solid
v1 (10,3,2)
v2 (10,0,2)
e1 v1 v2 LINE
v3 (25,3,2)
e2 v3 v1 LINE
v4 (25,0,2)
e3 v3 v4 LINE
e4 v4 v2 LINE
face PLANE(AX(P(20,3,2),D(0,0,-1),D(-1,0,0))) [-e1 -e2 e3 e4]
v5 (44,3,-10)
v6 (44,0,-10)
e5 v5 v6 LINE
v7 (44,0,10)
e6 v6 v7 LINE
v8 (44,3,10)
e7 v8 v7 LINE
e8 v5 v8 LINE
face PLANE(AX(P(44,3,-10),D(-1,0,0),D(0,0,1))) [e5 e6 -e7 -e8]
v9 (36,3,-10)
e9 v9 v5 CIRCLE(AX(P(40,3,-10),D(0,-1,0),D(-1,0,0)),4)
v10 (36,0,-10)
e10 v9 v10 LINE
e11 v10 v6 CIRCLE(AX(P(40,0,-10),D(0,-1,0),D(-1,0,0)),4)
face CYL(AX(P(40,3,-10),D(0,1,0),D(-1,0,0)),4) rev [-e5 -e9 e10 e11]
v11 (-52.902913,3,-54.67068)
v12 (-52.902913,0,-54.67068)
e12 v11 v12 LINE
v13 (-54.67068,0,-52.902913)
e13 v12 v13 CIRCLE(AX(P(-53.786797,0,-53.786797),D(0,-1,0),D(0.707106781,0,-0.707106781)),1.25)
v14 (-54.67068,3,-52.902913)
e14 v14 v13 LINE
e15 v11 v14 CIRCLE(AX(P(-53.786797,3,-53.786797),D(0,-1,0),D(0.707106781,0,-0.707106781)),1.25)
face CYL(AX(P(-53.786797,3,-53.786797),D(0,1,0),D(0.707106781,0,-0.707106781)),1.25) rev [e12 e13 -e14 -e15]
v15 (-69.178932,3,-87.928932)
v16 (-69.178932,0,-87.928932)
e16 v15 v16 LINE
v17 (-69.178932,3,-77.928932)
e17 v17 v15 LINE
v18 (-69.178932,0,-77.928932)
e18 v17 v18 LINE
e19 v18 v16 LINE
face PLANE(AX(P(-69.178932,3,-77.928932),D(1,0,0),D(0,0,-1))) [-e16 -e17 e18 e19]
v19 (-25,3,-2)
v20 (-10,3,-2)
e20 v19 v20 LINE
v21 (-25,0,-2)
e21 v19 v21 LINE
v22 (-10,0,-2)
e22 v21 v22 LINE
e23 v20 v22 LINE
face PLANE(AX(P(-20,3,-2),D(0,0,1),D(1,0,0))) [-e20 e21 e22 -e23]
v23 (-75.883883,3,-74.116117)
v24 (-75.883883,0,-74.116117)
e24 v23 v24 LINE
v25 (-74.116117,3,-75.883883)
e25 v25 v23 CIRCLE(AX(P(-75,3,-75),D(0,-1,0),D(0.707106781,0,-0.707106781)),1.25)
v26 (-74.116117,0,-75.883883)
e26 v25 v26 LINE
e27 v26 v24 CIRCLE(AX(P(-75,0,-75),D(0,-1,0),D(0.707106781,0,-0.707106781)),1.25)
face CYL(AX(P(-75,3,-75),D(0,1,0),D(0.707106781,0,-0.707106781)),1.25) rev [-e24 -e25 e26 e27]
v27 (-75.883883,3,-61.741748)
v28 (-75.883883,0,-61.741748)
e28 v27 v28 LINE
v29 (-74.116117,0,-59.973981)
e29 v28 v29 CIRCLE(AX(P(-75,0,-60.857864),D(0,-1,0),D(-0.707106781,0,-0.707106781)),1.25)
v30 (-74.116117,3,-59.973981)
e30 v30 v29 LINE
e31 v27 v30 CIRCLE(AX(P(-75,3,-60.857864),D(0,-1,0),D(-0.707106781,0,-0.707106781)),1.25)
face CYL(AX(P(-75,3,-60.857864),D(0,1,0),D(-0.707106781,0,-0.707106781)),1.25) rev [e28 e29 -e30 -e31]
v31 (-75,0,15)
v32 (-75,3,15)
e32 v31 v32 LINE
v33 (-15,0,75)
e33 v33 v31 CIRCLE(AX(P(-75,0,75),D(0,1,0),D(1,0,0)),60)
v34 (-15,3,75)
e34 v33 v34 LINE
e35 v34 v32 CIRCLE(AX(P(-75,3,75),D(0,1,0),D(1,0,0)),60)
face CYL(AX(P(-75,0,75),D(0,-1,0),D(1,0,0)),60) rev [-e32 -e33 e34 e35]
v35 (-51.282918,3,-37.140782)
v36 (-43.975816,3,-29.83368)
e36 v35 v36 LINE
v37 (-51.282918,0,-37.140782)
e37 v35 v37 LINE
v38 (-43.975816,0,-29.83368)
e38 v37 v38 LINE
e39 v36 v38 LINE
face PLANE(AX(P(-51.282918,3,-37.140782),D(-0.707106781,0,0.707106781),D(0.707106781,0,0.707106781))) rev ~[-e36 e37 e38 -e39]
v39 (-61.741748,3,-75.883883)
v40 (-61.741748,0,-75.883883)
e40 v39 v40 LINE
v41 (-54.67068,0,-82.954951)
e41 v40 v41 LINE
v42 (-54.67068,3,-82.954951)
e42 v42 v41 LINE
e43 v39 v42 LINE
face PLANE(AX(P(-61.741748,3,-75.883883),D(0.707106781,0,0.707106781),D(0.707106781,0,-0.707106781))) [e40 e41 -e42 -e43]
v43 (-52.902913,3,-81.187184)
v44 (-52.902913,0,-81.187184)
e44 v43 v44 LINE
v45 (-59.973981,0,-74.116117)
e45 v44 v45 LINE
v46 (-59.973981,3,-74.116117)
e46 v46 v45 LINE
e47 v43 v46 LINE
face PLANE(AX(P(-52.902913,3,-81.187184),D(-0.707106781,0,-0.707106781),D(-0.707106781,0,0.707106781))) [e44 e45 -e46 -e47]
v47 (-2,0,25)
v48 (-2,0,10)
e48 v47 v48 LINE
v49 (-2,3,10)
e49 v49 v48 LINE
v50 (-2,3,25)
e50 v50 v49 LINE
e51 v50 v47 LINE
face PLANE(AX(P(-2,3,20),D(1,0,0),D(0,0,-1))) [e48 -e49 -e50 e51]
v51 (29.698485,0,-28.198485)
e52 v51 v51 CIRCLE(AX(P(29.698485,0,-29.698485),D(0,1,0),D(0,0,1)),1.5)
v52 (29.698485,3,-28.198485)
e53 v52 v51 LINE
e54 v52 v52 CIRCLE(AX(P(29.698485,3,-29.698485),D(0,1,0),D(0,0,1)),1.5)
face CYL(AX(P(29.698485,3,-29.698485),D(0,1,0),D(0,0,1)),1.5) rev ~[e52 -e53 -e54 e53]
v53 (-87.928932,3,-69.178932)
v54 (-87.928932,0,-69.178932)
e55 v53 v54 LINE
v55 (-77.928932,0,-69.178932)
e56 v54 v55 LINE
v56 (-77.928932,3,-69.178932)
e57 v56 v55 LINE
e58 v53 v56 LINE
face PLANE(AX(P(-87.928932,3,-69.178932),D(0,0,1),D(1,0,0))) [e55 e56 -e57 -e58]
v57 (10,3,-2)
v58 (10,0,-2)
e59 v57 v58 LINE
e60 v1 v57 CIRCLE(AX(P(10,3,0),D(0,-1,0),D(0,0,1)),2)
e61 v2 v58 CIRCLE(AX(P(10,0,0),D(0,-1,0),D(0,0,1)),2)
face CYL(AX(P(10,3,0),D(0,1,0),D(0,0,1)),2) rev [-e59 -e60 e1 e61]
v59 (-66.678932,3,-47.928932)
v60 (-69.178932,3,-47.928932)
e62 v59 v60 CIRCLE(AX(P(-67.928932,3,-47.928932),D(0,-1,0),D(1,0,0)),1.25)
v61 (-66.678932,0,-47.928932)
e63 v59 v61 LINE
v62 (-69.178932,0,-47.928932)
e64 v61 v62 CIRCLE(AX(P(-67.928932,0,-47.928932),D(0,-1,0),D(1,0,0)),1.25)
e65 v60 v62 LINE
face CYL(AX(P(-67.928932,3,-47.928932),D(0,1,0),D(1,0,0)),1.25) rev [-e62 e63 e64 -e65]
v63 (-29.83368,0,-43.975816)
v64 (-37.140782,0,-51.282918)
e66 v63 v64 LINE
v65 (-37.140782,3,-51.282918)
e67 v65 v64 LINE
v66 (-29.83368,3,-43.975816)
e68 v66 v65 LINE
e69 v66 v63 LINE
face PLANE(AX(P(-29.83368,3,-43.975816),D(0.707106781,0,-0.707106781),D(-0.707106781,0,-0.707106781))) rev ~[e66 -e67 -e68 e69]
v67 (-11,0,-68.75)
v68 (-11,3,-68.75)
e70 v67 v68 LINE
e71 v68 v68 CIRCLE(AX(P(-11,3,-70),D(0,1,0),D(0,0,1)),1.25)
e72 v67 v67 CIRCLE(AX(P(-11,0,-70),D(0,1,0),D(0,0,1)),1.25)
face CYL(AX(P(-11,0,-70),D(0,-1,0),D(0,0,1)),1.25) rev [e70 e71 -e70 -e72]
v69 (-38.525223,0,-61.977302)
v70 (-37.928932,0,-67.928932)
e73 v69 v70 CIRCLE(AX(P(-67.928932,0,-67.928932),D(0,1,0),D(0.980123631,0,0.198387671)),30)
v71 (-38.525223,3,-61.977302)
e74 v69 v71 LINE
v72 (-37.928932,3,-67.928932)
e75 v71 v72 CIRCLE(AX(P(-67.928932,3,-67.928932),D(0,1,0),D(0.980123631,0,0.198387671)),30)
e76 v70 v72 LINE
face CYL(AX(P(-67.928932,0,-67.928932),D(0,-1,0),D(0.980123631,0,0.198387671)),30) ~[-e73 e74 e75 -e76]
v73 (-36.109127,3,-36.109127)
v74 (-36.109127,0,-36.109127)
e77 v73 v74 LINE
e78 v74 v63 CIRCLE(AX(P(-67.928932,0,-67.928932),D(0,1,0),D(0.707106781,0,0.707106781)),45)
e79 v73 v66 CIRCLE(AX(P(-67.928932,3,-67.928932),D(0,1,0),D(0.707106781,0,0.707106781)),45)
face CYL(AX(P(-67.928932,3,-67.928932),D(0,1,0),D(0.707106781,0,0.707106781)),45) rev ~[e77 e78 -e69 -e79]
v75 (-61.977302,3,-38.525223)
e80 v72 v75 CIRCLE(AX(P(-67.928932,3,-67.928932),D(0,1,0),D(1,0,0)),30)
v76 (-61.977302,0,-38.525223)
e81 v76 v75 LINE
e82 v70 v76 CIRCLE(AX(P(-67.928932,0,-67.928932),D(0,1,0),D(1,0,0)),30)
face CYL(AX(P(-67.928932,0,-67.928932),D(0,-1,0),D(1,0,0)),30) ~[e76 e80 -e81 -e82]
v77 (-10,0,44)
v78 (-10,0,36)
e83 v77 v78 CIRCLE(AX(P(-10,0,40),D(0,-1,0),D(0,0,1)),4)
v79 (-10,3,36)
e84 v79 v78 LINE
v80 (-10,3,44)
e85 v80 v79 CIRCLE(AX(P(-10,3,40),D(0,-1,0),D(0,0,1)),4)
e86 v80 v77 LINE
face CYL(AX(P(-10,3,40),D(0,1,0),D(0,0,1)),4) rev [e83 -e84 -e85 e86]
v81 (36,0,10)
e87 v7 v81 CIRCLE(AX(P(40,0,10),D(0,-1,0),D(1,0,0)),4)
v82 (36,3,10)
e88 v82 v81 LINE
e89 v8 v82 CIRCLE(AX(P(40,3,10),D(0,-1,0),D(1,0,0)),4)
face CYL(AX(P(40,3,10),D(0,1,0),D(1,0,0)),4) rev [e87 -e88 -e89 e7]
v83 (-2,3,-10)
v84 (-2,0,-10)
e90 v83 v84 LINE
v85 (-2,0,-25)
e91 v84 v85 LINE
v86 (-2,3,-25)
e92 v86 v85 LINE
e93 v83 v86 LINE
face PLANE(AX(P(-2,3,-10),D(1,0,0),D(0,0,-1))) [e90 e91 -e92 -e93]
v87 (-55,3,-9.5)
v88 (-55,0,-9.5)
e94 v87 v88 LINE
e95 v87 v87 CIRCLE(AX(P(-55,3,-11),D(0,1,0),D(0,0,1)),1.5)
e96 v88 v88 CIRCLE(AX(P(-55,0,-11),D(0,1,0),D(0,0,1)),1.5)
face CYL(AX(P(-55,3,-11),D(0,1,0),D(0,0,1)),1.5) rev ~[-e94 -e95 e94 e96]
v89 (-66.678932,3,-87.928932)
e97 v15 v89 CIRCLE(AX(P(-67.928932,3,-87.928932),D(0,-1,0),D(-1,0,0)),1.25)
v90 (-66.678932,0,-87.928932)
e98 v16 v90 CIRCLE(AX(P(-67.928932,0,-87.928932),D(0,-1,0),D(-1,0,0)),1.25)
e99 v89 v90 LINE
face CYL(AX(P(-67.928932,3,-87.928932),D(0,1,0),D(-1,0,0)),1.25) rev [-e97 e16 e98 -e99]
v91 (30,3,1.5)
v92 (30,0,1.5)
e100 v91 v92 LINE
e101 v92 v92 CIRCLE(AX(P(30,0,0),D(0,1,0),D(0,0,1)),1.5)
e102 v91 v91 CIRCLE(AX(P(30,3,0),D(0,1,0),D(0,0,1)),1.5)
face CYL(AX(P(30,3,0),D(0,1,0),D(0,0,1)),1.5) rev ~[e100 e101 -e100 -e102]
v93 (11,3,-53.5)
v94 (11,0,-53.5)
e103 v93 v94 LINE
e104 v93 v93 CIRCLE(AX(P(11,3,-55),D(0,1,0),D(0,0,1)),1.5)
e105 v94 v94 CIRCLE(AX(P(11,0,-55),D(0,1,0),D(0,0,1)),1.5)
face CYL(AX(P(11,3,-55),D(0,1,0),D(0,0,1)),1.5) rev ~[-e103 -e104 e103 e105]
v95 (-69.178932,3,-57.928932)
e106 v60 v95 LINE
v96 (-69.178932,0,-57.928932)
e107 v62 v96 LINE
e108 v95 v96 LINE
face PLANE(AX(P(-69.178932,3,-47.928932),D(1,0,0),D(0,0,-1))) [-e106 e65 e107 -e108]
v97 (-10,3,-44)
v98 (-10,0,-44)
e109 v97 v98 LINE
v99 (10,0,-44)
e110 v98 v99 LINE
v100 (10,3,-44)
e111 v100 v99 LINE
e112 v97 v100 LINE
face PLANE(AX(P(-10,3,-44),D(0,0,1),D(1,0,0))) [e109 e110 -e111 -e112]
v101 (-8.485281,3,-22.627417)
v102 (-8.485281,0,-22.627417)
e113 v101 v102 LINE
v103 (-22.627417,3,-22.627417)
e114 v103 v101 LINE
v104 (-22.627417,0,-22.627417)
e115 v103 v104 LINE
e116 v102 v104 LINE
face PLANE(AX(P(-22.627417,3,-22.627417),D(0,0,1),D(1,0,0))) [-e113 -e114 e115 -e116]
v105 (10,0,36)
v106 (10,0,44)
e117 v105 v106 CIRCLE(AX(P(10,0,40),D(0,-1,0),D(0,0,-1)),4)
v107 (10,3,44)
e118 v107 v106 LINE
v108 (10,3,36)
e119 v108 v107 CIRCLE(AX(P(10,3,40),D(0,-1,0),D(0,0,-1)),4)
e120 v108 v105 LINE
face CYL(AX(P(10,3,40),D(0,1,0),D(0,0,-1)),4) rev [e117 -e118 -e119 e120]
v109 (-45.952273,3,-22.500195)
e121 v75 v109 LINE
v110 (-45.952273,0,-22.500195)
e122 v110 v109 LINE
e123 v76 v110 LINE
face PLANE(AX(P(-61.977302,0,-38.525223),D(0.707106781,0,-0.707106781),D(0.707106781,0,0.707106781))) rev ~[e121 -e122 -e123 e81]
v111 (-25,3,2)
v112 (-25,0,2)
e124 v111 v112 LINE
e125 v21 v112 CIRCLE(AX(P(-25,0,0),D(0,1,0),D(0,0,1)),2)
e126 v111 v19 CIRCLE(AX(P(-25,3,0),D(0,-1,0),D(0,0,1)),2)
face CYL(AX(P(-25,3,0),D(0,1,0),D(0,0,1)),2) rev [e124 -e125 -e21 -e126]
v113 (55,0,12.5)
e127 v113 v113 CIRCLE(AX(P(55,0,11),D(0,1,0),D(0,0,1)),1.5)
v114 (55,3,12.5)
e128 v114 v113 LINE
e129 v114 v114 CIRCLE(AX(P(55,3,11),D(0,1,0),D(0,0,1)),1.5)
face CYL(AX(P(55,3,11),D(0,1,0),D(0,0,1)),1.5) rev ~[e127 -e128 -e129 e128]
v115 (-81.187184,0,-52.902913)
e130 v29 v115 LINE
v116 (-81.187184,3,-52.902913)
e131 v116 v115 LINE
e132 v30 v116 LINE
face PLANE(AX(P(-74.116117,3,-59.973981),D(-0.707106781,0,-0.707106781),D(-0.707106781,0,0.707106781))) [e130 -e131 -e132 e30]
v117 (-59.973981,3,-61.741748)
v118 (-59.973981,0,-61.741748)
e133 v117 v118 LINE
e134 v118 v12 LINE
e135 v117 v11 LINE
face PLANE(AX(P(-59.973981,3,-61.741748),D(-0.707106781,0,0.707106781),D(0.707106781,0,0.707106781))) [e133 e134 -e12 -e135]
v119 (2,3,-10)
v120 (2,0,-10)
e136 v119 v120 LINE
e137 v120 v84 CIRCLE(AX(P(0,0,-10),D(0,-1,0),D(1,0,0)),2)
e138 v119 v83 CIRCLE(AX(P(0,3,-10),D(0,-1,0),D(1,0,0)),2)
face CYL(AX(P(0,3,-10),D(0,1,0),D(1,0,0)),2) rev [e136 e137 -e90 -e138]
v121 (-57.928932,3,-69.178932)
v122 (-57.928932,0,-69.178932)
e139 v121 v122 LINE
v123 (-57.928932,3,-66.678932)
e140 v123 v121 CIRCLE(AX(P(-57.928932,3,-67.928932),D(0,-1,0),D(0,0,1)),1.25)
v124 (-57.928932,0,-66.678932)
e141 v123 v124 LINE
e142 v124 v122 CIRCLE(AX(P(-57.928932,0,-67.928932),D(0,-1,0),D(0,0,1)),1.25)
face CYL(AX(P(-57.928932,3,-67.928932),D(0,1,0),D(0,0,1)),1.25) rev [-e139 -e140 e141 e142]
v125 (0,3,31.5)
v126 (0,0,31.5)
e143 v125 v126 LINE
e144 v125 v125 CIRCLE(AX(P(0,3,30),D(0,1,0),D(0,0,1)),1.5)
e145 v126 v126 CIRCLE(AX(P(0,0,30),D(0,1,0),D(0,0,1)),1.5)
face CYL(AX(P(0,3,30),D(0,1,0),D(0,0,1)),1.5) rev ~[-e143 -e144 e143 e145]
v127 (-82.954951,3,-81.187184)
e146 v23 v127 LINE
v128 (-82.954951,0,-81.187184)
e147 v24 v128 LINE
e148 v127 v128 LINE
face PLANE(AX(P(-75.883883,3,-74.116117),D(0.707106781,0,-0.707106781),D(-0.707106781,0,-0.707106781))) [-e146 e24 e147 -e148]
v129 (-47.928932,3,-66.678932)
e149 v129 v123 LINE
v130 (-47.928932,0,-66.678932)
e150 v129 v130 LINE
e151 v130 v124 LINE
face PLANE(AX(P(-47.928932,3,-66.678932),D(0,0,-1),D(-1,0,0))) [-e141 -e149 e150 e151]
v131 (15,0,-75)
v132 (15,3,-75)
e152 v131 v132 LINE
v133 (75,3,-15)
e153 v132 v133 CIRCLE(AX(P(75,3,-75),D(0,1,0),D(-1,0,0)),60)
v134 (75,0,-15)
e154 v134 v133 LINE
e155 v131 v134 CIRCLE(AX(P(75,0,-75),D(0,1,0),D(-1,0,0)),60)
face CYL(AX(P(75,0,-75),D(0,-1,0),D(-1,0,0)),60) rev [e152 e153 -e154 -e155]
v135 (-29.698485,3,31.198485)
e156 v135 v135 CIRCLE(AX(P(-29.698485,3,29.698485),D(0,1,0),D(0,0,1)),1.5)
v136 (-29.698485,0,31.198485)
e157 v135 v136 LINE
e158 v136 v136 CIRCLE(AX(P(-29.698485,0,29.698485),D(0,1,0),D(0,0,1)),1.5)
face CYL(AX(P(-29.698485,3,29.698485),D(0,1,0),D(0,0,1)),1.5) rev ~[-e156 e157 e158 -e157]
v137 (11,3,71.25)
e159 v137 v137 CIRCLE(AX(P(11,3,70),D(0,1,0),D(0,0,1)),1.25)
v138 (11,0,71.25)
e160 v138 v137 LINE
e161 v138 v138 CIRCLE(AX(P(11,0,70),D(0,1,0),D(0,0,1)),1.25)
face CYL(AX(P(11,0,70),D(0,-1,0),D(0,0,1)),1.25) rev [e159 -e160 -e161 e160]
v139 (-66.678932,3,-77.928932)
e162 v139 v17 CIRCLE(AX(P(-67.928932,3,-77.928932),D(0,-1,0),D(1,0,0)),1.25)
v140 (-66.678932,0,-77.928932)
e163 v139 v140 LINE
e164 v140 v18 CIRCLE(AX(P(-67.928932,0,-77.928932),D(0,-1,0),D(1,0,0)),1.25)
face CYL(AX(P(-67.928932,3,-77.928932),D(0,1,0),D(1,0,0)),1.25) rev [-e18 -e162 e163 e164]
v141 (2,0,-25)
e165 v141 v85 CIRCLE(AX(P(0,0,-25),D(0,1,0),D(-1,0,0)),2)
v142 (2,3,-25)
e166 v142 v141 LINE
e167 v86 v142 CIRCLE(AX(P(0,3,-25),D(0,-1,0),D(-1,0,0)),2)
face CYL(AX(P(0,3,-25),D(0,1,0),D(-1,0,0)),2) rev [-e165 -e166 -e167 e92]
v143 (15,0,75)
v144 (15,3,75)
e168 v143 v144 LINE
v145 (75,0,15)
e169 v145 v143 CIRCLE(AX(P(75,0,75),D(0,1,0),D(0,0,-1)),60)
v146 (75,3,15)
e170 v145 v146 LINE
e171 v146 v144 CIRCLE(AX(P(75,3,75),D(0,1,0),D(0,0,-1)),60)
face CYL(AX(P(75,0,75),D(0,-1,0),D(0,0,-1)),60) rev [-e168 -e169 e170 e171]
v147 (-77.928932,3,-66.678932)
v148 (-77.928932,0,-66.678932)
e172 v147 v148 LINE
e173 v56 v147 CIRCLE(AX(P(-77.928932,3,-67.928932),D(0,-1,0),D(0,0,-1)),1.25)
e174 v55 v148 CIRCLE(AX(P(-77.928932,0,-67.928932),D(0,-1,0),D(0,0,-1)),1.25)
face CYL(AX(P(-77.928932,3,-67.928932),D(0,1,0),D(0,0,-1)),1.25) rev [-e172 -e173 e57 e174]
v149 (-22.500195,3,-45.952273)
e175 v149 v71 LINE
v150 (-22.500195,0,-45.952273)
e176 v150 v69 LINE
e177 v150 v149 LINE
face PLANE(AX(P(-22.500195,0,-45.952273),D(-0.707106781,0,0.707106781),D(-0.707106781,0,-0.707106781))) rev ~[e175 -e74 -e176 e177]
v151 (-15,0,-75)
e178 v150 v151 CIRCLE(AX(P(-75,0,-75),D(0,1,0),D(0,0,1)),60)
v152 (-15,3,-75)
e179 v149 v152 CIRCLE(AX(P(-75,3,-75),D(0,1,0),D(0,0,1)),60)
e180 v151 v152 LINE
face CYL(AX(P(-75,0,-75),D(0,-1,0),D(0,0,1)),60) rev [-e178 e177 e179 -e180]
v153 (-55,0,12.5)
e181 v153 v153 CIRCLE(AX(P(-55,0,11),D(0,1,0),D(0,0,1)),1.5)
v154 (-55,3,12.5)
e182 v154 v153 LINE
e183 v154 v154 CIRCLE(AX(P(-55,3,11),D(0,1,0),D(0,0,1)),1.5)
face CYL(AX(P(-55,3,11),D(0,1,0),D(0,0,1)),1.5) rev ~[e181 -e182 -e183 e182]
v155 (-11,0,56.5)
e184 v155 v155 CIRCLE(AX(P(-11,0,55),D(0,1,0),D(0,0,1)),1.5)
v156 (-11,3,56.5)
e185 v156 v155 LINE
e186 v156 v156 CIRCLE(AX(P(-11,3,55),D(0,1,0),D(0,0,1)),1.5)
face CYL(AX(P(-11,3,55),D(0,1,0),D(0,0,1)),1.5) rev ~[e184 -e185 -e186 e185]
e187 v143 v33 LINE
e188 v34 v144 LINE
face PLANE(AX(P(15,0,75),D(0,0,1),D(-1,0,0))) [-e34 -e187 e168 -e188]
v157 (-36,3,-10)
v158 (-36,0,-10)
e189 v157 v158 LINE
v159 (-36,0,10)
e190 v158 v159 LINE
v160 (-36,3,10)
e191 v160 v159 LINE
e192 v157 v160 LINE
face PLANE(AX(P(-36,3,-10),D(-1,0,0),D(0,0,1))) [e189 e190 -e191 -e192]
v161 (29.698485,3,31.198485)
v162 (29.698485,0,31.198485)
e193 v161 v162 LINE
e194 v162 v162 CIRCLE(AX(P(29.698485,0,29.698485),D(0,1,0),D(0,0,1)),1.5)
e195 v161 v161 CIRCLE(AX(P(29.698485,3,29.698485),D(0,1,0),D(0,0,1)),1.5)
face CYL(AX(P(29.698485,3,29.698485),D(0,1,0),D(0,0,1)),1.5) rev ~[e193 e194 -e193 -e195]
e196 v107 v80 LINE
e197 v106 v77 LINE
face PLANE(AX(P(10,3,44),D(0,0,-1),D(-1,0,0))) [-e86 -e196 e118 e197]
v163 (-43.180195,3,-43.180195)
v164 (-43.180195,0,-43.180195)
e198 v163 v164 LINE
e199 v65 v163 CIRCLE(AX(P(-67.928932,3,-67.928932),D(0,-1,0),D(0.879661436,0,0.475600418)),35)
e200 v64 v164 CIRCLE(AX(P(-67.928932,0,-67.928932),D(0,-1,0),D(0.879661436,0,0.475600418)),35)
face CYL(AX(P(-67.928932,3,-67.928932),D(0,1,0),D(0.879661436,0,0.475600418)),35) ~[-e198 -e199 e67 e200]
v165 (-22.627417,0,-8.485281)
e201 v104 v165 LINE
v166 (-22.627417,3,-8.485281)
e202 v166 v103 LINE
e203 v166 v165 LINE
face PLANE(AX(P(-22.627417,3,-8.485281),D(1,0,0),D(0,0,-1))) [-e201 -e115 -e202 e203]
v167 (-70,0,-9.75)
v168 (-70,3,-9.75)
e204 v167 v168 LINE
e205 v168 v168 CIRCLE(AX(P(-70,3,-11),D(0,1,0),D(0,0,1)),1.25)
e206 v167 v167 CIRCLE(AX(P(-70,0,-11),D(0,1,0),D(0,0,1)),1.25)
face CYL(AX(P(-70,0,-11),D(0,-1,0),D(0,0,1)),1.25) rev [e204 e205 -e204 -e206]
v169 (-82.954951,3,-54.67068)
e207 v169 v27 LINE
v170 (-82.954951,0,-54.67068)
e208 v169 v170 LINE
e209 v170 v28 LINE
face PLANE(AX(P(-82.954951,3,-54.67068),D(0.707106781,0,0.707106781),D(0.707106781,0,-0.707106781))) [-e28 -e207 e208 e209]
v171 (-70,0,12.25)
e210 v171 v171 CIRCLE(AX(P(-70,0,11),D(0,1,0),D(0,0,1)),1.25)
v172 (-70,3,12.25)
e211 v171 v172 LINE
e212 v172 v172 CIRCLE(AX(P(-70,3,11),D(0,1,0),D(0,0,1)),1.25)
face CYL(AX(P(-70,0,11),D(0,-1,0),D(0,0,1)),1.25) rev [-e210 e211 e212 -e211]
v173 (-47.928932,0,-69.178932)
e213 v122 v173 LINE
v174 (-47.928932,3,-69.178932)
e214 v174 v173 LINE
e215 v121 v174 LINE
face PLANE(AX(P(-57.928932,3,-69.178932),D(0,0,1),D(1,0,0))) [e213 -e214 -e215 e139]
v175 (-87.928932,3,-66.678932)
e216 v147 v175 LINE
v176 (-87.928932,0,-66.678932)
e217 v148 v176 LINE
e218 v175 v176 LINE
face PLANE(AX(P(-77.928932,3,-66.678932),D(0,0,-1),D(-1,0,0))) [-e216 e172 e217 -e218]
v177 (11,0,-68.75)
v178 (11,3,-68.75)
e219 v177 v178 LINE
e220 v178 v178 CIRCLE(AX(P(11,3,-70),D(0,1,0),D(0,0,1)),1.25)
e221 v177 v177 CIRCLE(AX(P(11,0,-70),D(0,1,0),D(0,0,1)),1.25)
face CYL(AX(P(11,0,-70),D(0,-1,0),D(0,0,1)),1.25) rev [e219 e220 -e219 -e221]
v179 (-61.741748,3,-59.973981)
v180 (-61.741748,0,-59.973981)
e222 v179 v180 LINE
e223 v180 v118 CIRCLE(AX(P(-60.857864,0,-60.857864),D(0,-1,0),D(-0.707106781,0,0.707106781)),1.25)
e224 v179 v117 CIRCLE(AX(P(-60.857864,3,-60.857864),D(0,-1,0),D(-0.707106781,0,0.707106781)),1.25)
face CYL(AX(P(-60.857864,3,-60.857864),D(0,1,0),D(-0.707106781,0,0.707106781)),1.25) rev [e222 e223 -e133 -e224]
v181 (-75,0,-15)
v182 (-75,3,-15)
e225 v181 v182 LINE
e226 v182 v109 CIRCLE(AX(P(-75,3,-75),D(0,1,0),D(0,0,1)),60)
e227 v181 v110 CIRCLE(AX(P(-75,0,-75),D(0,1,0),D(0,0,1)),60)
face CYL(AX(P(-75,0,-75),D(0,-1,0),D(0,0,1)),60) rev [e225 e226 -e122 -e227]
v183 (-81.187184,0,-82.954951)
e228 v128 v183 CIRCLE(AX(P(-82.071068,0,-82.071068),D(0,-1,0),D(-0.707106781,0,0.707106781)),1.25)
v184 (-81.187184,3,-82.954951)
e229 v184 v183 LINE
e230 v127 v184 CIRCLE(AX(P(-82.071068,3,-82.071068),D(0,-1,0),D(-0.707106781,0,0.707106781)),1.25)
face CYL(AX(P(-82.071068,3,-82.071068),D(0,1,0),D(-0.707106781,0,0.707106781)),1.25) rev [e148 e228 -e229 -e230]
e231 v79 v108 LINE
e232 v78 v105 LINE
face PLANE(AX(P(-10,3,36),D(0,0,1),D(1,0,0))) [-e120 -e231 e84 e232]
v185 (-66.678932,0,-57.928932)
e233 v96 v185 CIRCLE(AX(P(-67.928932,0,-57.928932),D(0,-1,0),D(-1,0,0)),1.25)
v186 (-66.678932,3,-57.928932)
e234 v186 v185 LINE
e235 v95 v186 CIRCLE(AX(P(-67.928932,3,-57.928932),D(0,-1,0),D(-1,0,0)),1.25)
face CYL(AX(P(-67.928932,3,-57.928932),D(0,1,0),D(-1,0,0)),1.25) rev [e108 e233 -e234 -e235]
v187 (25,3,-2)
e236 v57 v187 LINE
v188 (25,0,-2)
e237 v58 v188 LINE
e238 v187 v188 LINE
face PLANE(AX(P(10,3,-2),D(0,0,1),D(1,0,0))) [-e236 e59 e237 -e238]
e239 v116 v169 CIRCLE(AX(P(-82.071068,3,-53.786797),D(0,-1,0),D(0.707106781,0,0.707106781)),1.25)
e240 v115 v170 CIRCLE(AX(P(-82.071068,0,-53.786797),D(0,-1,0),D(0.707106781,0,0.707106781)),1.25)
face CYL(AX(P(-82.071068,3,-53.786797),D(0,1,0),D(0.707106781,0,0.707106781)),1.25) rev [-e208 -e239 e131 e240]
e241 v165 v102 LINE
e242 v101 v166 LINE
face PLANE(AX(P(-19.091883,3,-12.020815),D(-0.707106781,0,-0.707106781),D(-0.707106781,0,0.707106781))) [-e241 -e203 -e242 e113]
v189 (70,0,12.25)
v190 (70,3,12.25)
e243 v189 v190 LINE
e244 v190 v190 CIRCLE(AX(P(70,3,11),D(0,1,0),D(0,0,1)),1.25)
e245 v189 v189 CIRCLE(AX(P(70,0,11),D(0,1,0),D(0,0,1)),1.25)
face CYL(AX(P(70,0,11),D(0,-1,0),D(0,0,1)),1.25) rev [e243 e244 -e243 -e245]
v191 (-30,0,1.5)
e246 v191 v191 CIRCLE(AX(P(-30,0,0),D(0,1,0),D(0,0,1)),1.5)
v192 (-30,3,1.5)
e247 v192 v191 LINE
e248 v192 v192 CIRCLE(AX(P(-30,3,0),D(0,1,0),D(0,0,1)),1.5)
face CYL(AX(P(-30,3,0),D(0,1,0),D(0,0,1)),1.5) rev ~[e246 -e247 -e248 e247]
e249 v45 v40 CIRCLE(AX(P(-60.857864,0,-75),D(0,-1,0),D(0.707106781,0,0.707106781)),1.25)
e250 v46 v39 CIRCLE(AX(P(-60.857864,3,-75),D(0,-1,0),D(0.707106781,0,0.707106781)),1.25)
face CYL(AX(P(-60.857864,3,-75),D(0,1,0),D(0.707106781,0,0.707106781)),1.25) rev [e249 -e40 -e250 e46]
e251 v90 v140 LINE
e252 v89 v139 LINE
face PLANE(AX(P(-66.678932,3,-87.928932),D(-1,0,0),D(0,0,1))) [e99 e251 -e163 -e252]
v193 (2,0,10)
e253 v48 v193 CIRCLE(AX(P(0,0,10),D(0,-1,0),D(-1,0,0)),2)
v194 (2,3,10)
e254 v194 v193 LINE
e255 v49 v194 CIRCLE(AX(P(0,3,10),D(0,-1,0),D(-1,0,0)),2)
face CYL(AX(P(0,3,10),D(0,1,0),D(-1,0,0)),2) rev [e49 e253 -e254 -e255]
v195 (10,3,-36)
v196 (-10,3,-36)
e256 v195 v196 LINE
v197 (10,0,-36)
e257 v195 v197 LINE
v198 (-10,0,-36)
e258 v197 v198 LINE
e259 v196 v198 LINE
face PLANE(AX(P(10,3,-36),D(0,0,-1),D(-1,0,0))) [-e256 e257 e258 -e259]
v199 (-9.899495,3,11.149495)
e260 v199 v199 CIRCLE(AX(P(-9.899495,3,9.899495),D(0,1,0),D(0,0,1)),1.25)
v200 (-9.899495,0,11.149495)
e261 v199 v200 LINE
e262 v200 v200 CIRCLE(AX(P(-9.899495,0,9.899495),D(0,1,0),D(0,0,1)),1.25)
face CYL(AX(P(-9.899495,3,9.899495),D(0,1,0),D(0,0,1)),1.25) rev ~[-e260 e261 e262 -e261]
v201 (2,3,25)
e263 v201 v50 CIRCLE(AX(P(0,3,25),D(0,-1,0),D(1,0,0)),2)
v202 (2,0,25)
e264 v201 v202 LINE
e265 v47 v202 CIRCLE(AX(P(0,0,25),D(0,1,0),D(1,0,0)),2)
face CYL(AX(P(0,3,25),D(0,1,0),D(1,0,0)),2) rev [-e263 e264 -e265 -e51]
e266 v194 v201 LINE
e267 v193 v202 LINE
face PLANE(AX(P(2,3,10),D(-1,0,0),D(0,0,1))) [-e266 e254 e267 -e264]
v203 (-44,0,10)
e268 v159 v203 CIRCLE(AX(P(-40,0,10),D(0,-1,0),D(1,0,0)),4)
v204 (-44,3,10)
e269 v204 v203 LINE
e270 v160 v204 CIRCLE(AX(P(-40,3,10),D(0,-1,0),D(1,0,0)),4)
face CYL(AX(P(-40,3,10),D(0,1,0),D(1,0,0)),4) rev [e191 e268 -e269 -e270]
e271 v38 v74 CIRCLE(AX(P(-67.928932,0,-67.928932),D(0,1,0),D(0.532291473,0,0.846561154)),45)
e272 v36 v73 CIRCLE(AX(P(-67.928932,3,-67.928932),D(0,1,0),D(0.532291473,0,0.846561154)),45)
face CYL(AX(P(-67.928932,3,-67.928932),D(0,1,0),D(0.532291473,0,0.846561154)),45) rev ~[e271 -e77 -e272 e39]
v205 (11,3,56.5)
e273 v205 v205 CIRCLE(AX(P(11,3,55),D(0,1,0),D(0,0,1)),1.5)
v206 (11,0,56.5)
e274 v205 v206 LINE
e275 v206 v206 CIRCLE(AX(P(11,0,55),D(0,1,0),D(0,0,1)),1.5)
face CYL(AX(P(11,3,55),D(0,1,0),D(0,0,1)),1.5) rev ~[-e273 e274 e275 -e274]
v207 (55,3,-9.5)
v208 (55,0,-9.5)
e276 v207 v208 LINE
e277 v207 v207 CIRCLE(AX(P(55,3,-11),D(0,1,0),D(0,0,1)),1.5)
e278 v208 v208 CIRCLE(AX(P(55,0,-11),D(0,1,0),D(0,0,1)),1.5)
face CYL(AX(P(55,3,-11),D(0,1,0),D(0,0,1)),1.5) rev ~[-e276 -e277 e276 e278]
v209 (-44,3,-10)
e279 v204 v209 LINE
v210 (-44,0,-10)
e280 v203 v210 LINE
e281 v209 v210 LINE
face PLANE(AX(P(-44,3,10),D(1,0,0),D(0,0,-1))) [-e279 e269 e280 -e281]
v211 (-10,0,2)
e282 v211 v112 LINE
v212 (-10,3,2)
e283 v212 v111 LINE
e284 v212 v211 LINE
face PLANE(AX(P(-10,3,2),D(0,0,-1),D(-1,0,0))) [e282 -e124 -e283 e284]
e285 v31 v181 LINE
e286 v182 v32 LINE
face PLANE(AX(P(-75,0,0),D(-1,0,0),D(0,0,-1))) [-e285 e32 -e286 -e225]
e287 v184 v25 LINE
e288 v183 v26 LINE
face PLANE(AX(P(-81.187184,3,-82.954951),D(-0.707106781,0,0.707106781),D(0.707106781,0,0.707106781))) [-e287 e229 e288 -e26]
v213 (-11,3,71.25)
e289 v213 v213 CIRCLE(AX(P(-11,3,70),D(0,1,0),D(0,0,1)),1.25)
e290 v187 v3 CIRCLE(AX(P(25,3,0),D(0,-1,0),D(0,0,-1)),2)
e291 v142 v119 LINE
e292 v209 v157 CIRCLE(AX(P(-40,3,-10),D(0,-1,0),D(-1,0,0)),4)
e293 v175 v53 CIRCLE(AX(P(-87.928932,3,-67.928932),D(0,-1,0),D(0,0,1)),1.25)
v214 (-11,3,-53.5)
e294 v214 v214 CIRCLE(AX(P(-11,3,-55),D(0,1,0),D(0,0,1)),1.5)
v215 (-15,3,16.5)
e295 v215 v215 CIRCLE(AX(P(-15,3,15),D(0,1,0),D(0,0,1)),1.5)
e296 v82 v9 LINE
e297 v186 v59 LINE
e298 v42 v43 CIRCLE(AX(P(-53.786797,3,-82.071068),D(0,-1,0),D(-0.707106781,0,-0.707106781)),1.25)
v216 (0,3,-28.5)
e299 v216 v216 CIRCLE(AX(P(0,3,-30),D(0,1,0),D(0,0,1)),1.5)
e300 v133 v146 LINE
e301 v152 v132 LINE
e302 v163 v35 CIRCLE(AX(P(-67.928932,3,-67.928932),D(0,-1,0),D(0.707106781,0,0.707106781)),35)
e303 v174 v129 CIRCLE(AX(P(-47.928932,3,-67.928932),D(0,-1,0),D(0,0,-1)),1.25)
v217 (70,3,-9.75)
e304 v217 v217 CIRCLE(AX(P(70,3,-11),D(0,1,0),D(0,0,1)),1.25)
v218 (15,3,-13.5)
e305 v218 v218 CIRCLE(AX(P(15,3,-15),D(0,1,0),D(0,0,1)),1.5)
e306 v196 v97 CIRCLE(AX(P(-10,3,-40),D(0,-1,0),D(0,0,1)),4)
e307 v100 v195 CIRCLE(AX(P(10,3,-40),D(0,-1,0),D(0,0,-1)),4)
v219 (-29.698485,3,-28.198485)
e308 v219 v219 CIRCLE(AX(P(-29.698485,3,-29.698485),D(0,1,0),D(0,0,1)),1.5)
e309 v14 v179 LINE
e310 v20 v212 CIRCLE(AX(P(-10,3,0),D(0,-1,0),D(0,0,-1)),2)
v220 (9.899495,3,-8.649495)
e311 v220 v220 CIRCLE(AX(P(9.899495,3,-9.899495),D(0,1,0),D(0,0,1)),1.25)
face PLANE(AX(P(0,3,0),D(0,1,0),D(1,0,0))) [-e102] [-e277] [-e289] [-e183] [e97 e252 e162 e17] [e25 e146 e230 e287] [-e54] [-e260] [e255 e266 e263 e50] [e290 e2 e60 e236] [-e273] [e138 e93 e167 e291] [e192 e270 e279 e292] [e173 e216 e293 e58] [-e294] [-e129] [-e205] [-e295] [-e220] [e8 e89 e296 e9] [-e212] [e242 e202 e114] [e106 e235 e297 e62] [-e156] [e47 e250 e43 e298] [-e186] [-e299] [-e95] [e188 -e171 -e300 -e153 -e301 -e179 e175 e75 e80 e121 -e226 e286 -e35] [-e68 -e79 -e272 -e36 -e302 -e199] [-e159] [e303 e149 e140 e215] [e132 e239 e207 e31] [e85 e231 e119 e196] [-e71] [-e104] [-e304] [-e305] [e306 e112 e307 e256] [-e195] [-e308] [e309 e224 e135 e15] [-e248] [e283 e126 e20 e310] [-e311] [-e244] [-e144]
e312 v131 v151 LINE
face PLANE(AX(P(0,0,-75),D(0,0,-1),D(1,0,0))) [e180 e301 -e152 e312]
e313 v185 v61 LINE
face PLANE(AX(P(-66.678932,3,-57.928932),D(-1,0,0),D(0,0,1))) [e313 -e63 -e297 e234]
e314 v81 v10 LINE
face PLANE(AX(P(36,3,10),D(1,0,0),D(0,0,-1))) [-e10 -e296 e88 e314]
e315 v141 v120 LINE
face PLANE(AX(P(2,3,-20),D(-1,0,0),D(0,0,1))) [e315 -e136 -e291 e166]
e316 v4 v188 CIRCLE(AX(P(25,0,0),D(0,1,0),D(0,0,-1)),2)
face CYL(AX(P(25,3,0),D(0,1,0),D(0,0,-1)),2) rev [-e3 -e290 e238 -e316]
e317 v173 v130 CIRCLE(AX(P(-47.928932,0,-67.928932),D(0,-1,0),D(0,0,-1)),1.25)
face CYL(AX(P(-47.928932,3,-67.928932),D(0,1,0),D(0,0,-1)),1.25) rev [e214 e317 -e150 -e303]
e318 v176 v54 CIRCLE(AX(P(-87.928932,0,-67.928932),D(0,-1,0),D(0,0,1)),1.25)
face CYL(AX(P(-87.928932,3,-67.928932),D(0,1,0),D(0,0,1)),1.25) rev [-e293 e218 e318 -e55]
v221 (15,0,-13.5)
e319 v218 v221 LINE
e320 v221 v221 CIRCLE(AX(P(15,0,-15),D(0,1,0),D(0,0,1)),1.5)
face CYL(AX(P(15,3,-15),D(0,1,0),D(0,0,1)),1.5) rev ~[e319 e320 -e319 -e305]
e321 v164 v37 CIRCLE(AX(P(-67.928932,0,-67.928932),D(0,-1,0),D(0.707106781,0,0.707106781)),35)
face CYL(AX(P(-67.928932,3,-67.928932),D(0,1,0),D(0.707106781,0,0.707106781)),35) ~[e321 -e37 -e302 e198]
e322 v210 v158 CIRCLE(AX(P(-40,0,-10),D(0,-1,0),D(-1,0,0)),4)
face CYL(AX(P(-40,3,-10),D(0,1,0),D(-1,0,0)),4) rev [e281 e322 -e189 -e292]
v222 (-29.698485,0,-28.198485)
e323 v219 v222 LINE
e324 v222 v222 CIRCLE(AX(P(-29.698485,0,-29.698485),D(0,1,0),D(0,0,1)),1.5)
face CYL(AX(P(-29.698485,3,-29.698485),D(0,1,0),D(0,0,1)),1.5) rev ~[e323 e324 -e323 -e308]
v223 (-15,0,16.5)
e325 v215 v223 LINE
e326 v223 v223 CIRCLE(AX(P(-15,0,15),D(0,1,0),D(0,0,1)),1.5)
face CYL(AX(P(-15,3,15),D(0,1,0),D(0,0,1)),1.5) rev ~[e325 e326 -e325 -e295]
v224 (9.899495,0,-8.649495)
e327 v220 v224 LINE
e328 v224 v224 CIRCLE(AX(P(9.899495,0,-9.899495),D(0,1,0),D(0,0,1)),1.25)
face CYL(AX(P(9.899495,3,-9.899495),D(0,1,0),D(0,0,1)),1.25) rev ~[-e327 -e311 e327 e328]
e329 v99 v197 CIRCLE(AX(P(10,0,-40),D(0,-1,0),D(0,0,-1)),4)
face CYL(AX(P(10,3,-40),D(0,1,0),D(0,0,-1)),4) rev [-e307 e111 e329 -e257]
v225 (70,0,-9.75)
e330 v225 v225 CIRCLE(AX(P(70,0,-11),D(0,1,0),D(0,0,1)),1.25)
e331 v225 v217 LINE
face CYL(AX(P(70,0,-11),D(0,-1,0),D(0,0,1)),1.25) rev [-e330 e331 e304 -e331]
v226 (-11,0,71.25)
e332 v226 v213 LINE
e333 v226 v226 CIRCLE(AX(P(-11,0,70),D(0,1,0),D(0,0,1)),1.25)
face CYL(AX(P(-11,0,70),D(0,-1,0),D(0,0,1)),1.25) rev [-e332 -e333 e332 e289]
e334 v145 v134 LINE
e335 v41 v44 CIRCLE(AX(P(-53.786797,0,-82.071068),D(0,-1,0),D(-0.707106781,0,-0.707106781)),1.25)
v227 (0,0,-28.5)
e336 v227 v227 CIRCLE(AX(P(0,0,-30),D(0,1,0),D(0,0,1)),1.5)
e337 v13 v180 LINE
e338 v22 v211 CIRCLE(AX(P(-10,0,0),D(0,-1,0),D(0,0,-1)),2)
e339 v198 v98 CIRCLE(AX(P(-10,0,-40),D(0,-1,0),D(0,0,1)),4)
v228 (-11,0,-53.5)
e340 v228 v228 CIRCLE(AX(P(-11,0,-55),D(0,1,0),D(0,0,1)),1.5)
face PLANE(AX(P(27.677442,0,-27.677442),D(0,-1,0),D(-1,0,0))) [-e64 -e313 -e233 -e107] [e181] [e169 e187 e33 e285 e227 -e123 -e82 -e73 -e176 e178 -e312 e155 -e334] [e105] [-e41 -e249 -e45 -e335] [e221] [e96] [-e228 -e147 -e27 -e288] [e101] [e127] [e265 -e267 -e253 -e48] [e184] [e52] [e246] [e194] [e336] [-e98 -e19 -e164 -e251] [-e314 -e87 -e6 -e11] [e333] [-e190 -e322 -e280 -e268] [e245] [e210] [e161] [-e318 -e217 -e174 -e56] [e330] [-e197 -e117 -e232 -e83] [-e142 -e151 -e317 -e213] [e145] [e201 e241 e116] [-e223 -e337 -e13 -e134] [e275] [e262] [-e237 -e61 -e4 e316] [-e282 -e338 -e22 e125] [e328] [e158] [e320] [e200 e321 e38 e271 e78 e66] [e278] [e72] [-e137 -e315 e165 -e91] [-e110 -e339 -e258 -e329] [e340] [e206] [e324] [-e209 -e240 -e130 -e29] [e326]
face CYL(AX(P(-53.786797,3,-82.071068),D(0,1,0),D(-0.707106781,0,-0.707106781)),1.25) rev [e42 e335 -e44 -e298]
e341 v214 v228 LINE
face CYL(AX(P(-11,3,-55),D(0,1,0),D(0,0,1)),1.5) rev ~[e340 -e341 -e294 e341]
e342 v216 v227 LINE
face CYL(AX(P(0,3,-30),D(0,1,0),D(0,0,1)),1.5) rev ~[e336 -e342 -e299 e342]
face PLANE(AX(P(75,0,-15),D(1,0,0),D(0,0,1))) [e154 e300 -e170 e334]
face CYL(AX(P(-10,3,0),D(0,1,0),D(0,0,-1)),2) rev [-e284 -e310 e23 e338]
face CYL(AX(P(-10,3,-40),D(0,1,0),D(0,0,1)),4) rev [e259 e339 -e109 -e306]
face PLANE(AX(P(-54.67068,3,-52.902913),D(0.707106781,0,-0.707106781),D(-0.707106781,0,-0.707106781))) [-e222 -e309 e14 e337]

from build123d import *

# Parameters (mm, degrees)
SKETCH_1_R               = 1.25
EXTRUDE_1_DEPTH          = 3
SKETCH_2_R               = 1.5
CUT_EXTRUDE_1_DEPTH      = 3
CUT_EXTRUDE_2_DEPTH      = 3
CUT_EXTRUDE_3_DEPTH      = 3
CUT_EXTRUDE_4_DEPTH      = 10
SKETCH_6_R               = 1.5
CUT_EXTRUDE_5_DEPTH      = 10
SKETCH_7_R               = 1.5
CUT_EXTRUDE_8_DEPTH      = 10
SKETCH_8_R               = 1.5
CUT_EXTRUDE_9_DEPTH      = 10
SKETCH_9_R               = 15
CUT_EXTRUDE_10_DEPTH     = 10
SKETCH_11_R              = 1.5
EXTRUDE_3_DEPTH          = 3
CUT_EXTRUDE_12_DEPTH     = 3
EXTRUDE_4_DEPTH          = 3
SKETCH_15_R              = 15
EXTRUDE_5_DEPTH          = 3
CUT_EXTRUDE_13_DEPTH     = 3
EXTRUDE_START            = -3
EXTRUDE_7_DEPTH          = 3
CUT_EXTRUDE_14_DEPTH     = 3
CUT_EXTRUDE_15_DEPTH     = 3
PATTERN_CIRCULAR_1_COUNT = 8
SKETCH_22_R              = 1.25
CUT_EXTRUDE_17_DEPTH     = 3
SKETCH_23_R              = 1.5
CUT_EXTRUDE_18_DEPTH     = 10
SKETCH_24_R              = 1.5
CUT_EXTRUDE_19_DEPTH     = 10
CUT_EXTRUDE_20_DEPTH     = 10


with BuildPart() as part:
    # 草图1 → 凸台-拉伸1 (new body)
    # profile 1 of 4: a face of its own
    with BuildSketch(Plane(origin=(0, 0, 0), x_dir=(1, 0, 0), z_dir=(0, 1, 0))):
        with BuildLine():
            ThreePointArc((75, -15), (32.573593129, -32.573593129), (15, -75))
            Line((15, -75), (0, -75))
            Line((0, -75), (0, 0))
            Line((0, 0), (75, 0))
            Line((75, 0), (75, -15))
        make_face()
        with Locations(Location((11, -70, 0), (0, 0, 270))):
            Circle(SKETCH_1_R, mode=Mode.SUBTRACT)
        with Locations(Location((70, -11, 0), (0, 0, 270))):
            Circle(SKETCH_1_R, mode=Mode.SUBTRACT)
    # profile 2 of 4: a face of its own
    with BuildSketch(Plane(origin=(0, 0, 0), x_dir=(1, 0, 0), z_dir=(0, 1, 0))):
        with BuildLine():
            ThreePointArc((-15, -75), (-32.573593129, -32.573593129), (-75, -15))
            Line((-75, -15), (-75, 0))
            Line((-75, 0), (0, 0))
            Line((0, 0), (0, -75))
            Line((0, -75), (-15, -75))
        make_face()
        with Locations(Location((-70, -11, 0), (0, 0, 270))):
            Circle(SKETCH_1_R, mode=Mode.SUBTRACT)
        with Locations(Location((-11, -70, 0), (0, 0, 270))):
            Circle(SKETCH_1_R, mode=Mode.SUBTRACT)
    # profile 3 of 4: a face of its own
    with BuildSketch(Plane(origin=(0, 0, 0), x_dir=(1, 0, 0), z_dir=(0, 1, 0))):
        with BuildLine():
            ThreePointArc((-75, 15), (-32.573593129, 32.573593129), (-15, 75))
            Line((-15, 75), (0, 75))
            Line((0, 75), (0, 0))
            Line((0, 0), (-75, 0))
            Line((-75, 0), (-75, 15))
        make_face()
        with Locations(Location((-11, 70, 0), (0, 0, 270))):
            Circle(SKETCH_1_R, mode=Mode.SUBTRACT)
        with Locations(Location((-70, 11, 0), (0, 0, 270))):
            Circle(SKETCH_1_R, mode=Mode.SUBTRACT)
    # profile 4 of 4: a face of its own
    with BuildSketch(Plane(origin=(0, 0, 0), x_dir=(1, 0, 0), z_dir=(0, 1, 0))):
        with BuildLine():
            ThreePointArc((15, 75), (32.573593129, 32.573593129), (75, 15))
            Line((75, 15), (75, 0))
            Line((75, 0), (0, 0))
            Line((0, 0), (0, 75))
            Line((0, 75), (15, 75))
        make_face()
        with Locations(Location((70, 11, 0), (0, 0, 270))):
            Circle(SKETCH_1_R, mode=Mode.SUBTRACT)
        with Locations(Location((11, 70, 0), (0, 0, 270))):
            Circle(SKETCH_1_R, mode=Mode.SUBTRACT)
    extrude(amount=EXTRUDE_1_DEPTH)

    # 草图2 → 切除-拉伸1 (cut)
    with BuildSketch(Plane.XZ):
        with Locations(Location((0.353553391, -31.466251763, 0), (0, 0, 270))):
            Circle(SKETCH_2_R)
        with Locations(Location((31.466251763, -0.353553391, 0), (0, 0, 270))):
            Circle(SKETCH_2_R)
        with Locations(Location((-0.353553391, 31.466251763, 0), (0, 0, 90))):
            Circle(SKETCH_2_R)
        with Locations(Location((-31.466251763, 0.353553391, 0), (0, 0, 90))):
            Circle(SKETCH_2_R)
    extrude(amount=-CUT_EXTRUDE_1_DEPTH, mode=Mode.SUBTRACT)

    # 草图3 → 切除-拉伸2 (cut)
    with BuildSketch(Plane(origin=(0, 3, 0), x_dir=(1, 0, 0), z_dir=(0, 1, 0))):
        Polygon((-15.556349186, 15.556349186), (-12.02081528, 19.091883092), (-22.627416998, 22.627416998), align=None)
        Polygon((-19.091883092, 12.02081528), (-15.556349186, 15.556349186), (-22.627416998, 22.627416998), align=None)
    extrude(amount=-CUT_EXTRUDE_2_DEPTH, mode=Mode.SUBTRACT)

    # 草图4 → 切除-拉伸3 (cut)
    with BuildSketch(Plane(origin=(0, 3, 0), x_dir=(1, 0, 0), z_dir=(0, 1, 0))):
        with BuildLine():
            ThreePointArc((33.944668714, -19.80253309), (34.043922781, -8.582763971), (22.827665534, -8.285032838))
            Line((22.827665534, -8.285032838), (15.556349186, -15.556349186))
            Line((15.556349186, -15.556349186), (8.285032838, -22.827665534))
            ThreePointArc((8.285032838, -22.827665534), (8.582763971, -34.043922781), (19.80253309, -33.944668714))
            Line((19.80253309, -33.944668714), (33.944668714, -19.80253309))
        make_face()
    extrude(amount=-CUT_EXTRUDE_3_DEPTH, mode=Mode.SUBTRACT)

    # 草图5 → 切除-拉伸4 (cut)
    with BuildSketch(Plane(origin=(0, 3, 0), x_dir=(1, 0, 0), z_dir=(0, 1, 0))):
        Polygon((-22.627416998, 8.485281374), (-22.627416998, 22.627416998), (-19.091883092, 12.02081528), align=None)
        Polygon((-12.02081528, 19.091883092), (-22.627416998, 22.627416998), (-8.485281374, 22.627416998), align=None)
    extrude(amount=-CUT_EXTRUDE_4_DEPTH, mode=Mode.SUBTRACT)

    # 草图6 → 切除-拉伸5 (cut)
    with BuildSketch(Plane(origin=(0, 3, 0), x_dir=(1, 0, 0), z_dir=(0, 1, 0))):
        with Locations(Location((-35.355339059, -21.213203436, 0), (0, 0, 270))):
            Circle(SKETCH_6_R)
        with Locations(Location((-21.213203436, -35.355339059, 0), (0, 0, 270))):
            Circle(SKETCH_6_R)
        with Locations(Location((35.355339059, 21.213203436, 0), (0, 0, 270))):
            Circle(SKETCH_6_R)
        with Locations(Location((21.213203436, 35.355339059, 0), (0, 0, 270))):
            Circle(SKETCH_6_R)
    extrude(amount=-CUT_EXTRUDE_5_DEPTH, mode=Mode.SUBTRACT)

    # 草图7 → 切除-拉伸8 (cut)
    with BuildSketch(Plane(origin=(0, 3, 0), x_dir=(1, 0, 0), z_dir=(0, 1, 0))):
        with Locations(Location((-29.69848481, 29.69848481, 0), (0, 0, 270))):
            Circle(SKETCH_7_R)
        with Locations(Location((29.69848481, 29.69848481, 0), (0, 0, 270))):
            Circle(SKETCH_7_R)
        with Locations(Location((29.69848481, -29.69848481, 0), (0, 0, 270))):
            Circle(SKETCH_7_R)
        with Locations(Location((-29.69848481, -29.69848481, 0), (0, 0, 270))):
            Circle(SKETCH_7_R)
    extrude(amount=-CUT_EXTRUDE_8_DEPTH, mode=Mode.SUBTRACT)

    # 草图8 → 切除-拉伸9 (cut)
    with BuildSketch(Plane(origin=(0, 3, 0), x_dir=(1, 0, 0), z_dir=(0, 1, 0))):
        with Locations(Location((-11, 55, 0), (0, 0, 270))):
            Circle(SKETCH_8_R)
        with Locations(Location((11, 55, 0), (0, 0, 270))):
            Circle(SKETCH_8_R)
        with Locations(Location((55, 11, 0), (0, 0, 270))):
            Circle(SKETCH_8_R)
        with Locations(Location((55, -11, 0), (0, 0, 270))):
            Circle(SKETCH_8_R)
        with Locations(Location((11, -55, 0), (0, 0, 270))):
            Circle(SKETCH_8_R)
        with Locations(Location((-11, -55, 0), (0, 0, 270))):
            Circle(SKETCH_8_R)
        with Locations(Location((-55, -11, 0), (0, 0, 270))):
            Circle(SKETCH_8_R)
        with Locations(Location((-55, 11, 0), (0, 0, 270))):
            Circle(SKETCH_8_R)
    extrude(amount=-CUT_EXTRUDE_9_DEPTH, mode=Mode.SUBTRACT)

    # 草图9 → 切除-拉伸10 (cut)
    with BuildSketch(Plane(origin=(0, 3, 0), x_dir=(1, 0, 0), z_dir=(0, 1, 0))):
        with Locations(Location((0, 0, 0), (0, 0, 270))):
            Circle(SKETCH_9_R)
    extrude(amount=-CUT_EXTRUDE_10_DEPTH, mode=Mode.SUBTRACT)

    # 草图11 → 凸台-拉伸3 (add)
    with BuildSketch(Plane(origin=(0, 3, 0), x_dir=(1, 0, 0), z_dir=(0, 1, 0))):
        with Locations((-35.355339059, -21.213203436)):
            Circle(SKETCH_11_R)
        with Locations((35.355339059, 21.213203436)):
            Circle(SKETCH_11_R)
        with Locations((21.213203436, 35.355339059)):
            Circle(SKETCH_11_R)
        with Locations((0.353553391, 31.466251763)):
            Circle(SKETCH_11_R)
        with Locations((31.466251763, 0.353553391)):
            Circle(SKETCH_11_R)
        with Locations((-0.353553391, -31.466251763)):
            Circle(SKETCH_11_R)
        with Locations((-31.466251763, -0.353553391)):
            Circle(SKETCH_11_R)
        with Locations((-21.213203436, -35.355339059)):
            Circle(SKETCH_11_R)
    extrude(amount=-EXTRUDE_3_DEPTH)

    # 草图12 → 切除-拉伸12 (cut)
    with BuildSketch(Plane(origin=(0, 3, 0), x_dir=(1, 0, 0), z_dir=(0, 1, 0))):
        with BuildLine():
            Line((-44, -10), (-44, 10))
            ThreePointArc((-44, 10), (-40, 14), (-36, 10))
            Line((-36, 10), (-36, -10))
            ThreePointArc((-36, -10), (-40, -14), (-44, -10))
        make_face()
        with BuildLine():
            Line((-10, 44), (10, 44))
            ThreePointArc((10, 44), (14, 40), (10, 36))
            Line((10, 36), (-10, 36))
            ThreePointArc((-10, 36), (-14, 40), (-10, 44))
        make_face()
        with BuildLine():
            Line((44, 10), (44, -10))
            ThreePointArc((44, -10), (40, -14), (36, -10))
            Line((36, -10), (36, 10))
            ThreePointArc((36, 10), (40, 14), (44, 10))
        make_face()
        with BuildLine():
            Line((10, -44), (-10, -44))
            ThreePointArc((-10, -44), (-14, -40), (-10, -36))
            Line((-10, -36), (10, -36))
            ThreePointArc((10, -36), (14, -40), (10, -44))
        make_face()
    extrude(amount=-CUT_EXTRUDE_12_DEPTH, mode=Mode.SUBTRACT)

    # 草图14 → 凸台-拉伸4 (add)
    with BuildSketch(Plane(origin=(0, 3, 0), x_dir=(1, 0, 0), z_dir=(0, 1, 0))):
        with BuildLine():
            ThreePointArc((32.185650849, -7.152183109), (27.322232167, -6.195143755), (22.827665534, -8.285032838))
            Line((22.827665534, -8.285032838), (21.61516096, -18.569682002))
            ThreePointArc((21.61516096, -18.569682002), (27.487806659, -22.107425519), (33.944668714, -19.80253309))
            ThreePointArc((33.944668714, -19.80253309), (35.679936943, -17.205520658), (36.289282113, -14.142135624))
            ThreePointArc((36.289282113, -14.142135624), (35.187559777, -10.089382679), (32.185650849, -7.152183109))
        make_face()
        with BuildLine():
            Line((22.827665534, -8.285032838), (22.427168462, -8.685529911))
            ThreePointArc((22.427168462, -8.685529911), (20.306137435, -13.486712231), (21.61516096, -18.569682002))
            Line((21.61516096, -18.569682002), (22.827665534, -8.285032838))
        make_face()
        with BuildLine():
            Line((22.427168462, -8.685529911), (8.285032838, -22.827665534))
            ThreePointArc((8.285032838, -22.827665534), (8.582763971, -34.043922781), (19.80253309, -33.944668714))
            Line((19.80253309, -33.944668714), (21.61516096, -18.569682002))
            ThreePointArc((21.61516096, -18.569682002), (20.306137435, -13.486712231), (22.427168462, -8.685529911))
        make_face()
        with BuildLine():
            Line((21.61516096, -18.569682002), (19.80253309, -33.944668714))
            Line((19.80253309, -33.944668714), (33.944668714, -19.80253309))
            ThreePointArc((33.944668714, -19.80253309), (27.487806659, -22.107425519), (21.61516096, -18.569682002))
        make_face()
    extrude(amount=-EXTRUDE_4_DEPTH)

    # 草图15 → 凸台-拉伸5 (add)
    with BuildSketch(Plane(origin=(0, 3, 0), x_dir=(1, 0, 0), z_dir=(0, 1, 0))):
        Circle(SKETCH_15_R)
    extrude(amount=-EXTRUDE_5_DEPTH)

    # 草图17 → 切除-拉伸13 (cut)
    with BuildSketch(Plane(origin=(0, 3, 0), x_dir=(1, 0, 0), z_dir=(0, 1, 0))):
        with BuildLine():
            Line((-2, -20), (-2, -10))
            ThreePointArc((-2, -10), (0, -8), (2, -10))
            Line((2, -10), (2, -20))
            ThreePointArc((2, -20), (0, -22), (-2, -20))
        make_face()
        with BuildLine():
            Line((-20, 2), (-10, 2))
            ThreePointArc((-10, 2), (-8, 0), (-10, -2))
            Line((-10, -2), (-20, -2))
            ThreePointArc((-20, -2), (-22, 0), (-20, 2))
        make_face()
        with BuildLine():
            Line((2, 20), (2, 10))
            ThreePointArc((2, 10), (0, 8), (-2, 10))
            Line((-2, 10), (-2, 20))
            ThreePointArc((-2, 20), (0, 22), (2, 20))
        make_face()
        with BuildLine():
            Line((20, -2), (10, -2))
            ThreePointArc((10, -2), (8, 0), (10, 2))
            Line((10, 2), (20, 2))
            ThreePointArc((20, 2), (22, 0), (20, -2))
        make_face()
    extrude(amount=-CUT_EXTRUDE_13_DEPTH, mode=Mode.SUBTRACT)

    # 草图18 → 凸台-拉伸7 (add)
    with BuildSketch(Plane(origin=(0, 3, 0), x_dir=(1, 0, 0), z_dir=(0, 1, 0)).offset(EXTRUDE_START)):
        with BuildLine():
            Line((-61.977302058, 38.525223259), (-50.251262658, 50.251262658))
            Line((-50.251262658, 50.251262658), (-38.525223259, 61.977302058))
            ThreePointArc((-38.525223259, 61.977302058), (-38.078377186, 64.938218885), (-37.928932188, 67.928932188))
            ThreePointArc((-37.928932188, 67.928932188), (-91.15121571, 86.921708395), (-61.977302058, 38.525223259))
        make_face()
        with BuildLine():
            ThreePointArc((-61.977302058, 38.525223259), (-53.742560533, 41.49511182), (-46.715728753, 46.715728753))
            Line((-46.715728753, 46.715728753), (-50.251262658, 50.251262658))
            Line((-50.251262658, 50.251262658), (-61.977302058, 38.525223259))
        make_face()
        with BuildLine():
            Line((-50.251262658, 50.251262658), (-46.715728753, 46.715728753))
            ThreePointArc((-46.715728753, 46.715728753), (-41.49511182, 53.742560534), (-38.525223259, 61.977302058))
            Line((-38.525223259, 61.977302058), (-50.251262658, 50.251262658))
        make_face()
        with BuildLine():
            ThreePointArc((-45.952273324, 22.500194525), (-38.909748111, 27.067821679), (-32.573593129, 32.573593129))
            Line((-32.573593129, 32.573593129), (-46.715728753, 46.715728753))
            ThreePointArc((-46.715728753, 46.715728753), (-53.742560533, 41.49511182), (-61.977302058, 38.525223259))
            Line((-61.977302058, 38.525223259), (-45.952273324, 22.500194525))
        make_face()
        with BuildLine():
            Line((-46.715728753, 46.715728753), (-32.573593129, 32.573593129))
            ThreePointArc((-32.573593129, 32.573593129), (-27.067821679, 38.909748111), (-22.500194525, 45.952273324))
            Line((-22.500194525, 45.952273324), (-38.525223259, 61.977302058))
            ThreePointArc((-38.525223259, 61.977302058), (-41.49511182, 53.742560534), (-46.715728753, 46.715728753))
        make_face()
    extrude(amount=EXTRUDE_7_DEPTH)

    # 草图19 → 切除-拉伸14 (cut)
    with BuildSketch(Plane(origin=(0, 3, 0), x_dir=(1, 0, 0), z_dir=(0, 1, 0))):
        with BuildLine():
            ThreePointArc((-37.140781925, 51.282917549), (-39.866501787, 47.012431525), (-43.180194847, 43.180194847))
            Line((-43.180194847, 43.180194847), (-36.109127035, 36.109127035))
            ThreePointArc((-36.109127035, 36.109127035), (-32.750813989, 39.866501787), (-29.833680261, 43.975815885))
            Line((-29.833680261, 43.975815885), (-37.140781925, 51.282917549))
        make_face()
        with BuildLine():
            Line((-36.109127035, 36.109127035), (-43.180194847, 43.180194847))
            ThreePointArc((-43.180194847, 43.180194847), (-47.012431525, 39.866501787), (-51.282917549, 37.140781925))
            Line((-51.282917549, 37.140781925), (-43.975815885, 29.833680261))
            ThreePointArc((-43.975815885, 29.833680261), (-39.866501787, 32.750813989), (-36.109127035, 36.109127035))
        make_face()
    extrude(amount=-CUT_EXTRUDE_14_DEPTH, mode=Mode.SUBTRACT)

    # 草图21 → 切除-拉伸15 (cut)
    with BuildSketch(Plane(origin=(0, 3, 0), x_dir=(1, 0, 0), z_dir=(0, 1, 0))):
        with BuildLine():
            Line((-81.187184335, 82.954951288), (-74.116116524, 75.883883476))
            ThreePointArc((-74.116116524, 75.883883476), (-74.116116524, 74.116116524), (-75.883883476, 74.116116524))
            Line((-75.883883476, 74.116116524), (-82.954951288, 81.187184335))
            ThreePointArc((-82.954951288, 81.187184335), (-82.954951288, 82.954951288), (-81.187184335, 82.954951288))
        make_face()
        with BuildLine():
            Line((-59.9739809, 61.741747853), (-52.902913088, 54.670680041))
            ThreePointArc((-52.902913088, 54.670680041), (-52.902913088, 52.902913088), (-54.670680041, 52.902913088))
            Line((-54.670680041, 52.902913088), (-61.741747853, 59.9739809))
            ThreePointArc((-61.741747853, 59.9739809), (-61.741747853, 61.741747853), (-59.9739809, 61.741747853))
        make_face()
    cut_extrude_15 = extrude(amount=-CUT_EXTRUDE_15_DEPTH, mode=Mode.SUBTRACT)

    # 阵列(圆周)1: 切除-拉伸15 ×8 about axis
    pattern_circular_1_axis = Axis((-67.928932188, 0, -67.928932188), (0, 1, 0))
    for i in range(1, PATTERN_CIRCULAR_1_COUNT):
        add(cut_extrude_15.rotate(pattern_circular_1_axis, i * 360 / PATTERN_CIRCULAR_1_COUNT), mode=Mode.SUBTRACT)

    # 草图22 → 切除-拉伸17 (cut)
    with BuildSketch(Plane(origin=(0, 3, 0), x_dir=(1, 0, 0), z_dir=(0, 1, 0))):
        with Locations(Location((9.899494937, 9.899494937, 0), (0, 0, 270))):
            Circle(SKETCH_22_R)
        with Locations(Location((-9.899494937, -9.899494937, 0), (0, 0, 270))):
            Circle(SKETCH_22_R)
    extrude(amount=-CUT_EXTRUDE_17_DEPTH, mode=Mode.SUBTRACT)

    # 草图23 → 切除-拉伸18 (cut)
    with BuildSketch(Plane(origin=(0, 3, 0), x_dir=(1, 0, 0), z_dir=(0, 1, 0))):
        with Locations(Location((0, 30, 0), (0, 0, 270))):
            Circle(SKETCH_23_R)
        with Locations(Location((30, 0, 0), (0, 0, 270))):
            Circle(SKETCH_23_R)
        with Locations(Location((0, -30, 0), (0, 0, 270))):
            Circle(SKETCH_23_R)
        with Locations(Location((-30, 0, 0), (0, 0, 270))):
            Circle(SKETCH_23_R)
    extrude(amount=-CUT_EXTRUDE_18_DEPTH, mode=Mode.SUBTRACT)

    # 草图24 → 切除-拉伸19 (cut)
    with BuildSketch(Plane(origin=(0, 3, 0), x_dir=(1, 0, 0), z_dir=(0, 1, 0))):
        with Locations(Location((-15, -15, 0), (0, 0, 270))):
            Circle(SKETCH_24_R)
        with Locations(Location((15, 15, 0), (0, 0, 270))):
            Circle(SKETCH_24_R)
    extrude(amount=-CUT_EXTRUDE_19_DEPTH, mode=Mode.SUBTRACT)

    # 草图25 → 切除-拉伸20 (cut)
    with BuildSketch(Plane(origin=(0, 3, 0), x_dir=(1, 0, 0), z_dir=(0, 1, 0))):
        with BuildLine():
            Line((-2, 10), (-2, 25))
            ThreePointArc((-2, 25), (0, 27), (2, 25))
            Line((2, 25), (2, 10))
            ThreePointArc((2, 10), (0, 8), (-2, 10))
        make_face()
        with BuildLine():
            Line((10, 2), (25, 2))
            ThreePointArc((25, 2), (27, 0), (25, -2))
            Line((25, -2), (10, -2))
            ThreePointArc((10, -2), (8, 0), (10, 2))
        make_face()
        with BuildLine():
            Line((2, -10), (2, -25))
            ThreePointArc((2, -25), (0, -27), (-2, -25))
            Line((-2, -25), (-2, -10))
            ThreePointArc((-2, -10), (0, -8), (2, -10))
        make_face()
        with BuildLine():
            Line((-10, -2), (-25, -2))
            ThreePointArc((-25, -2), (-27, 0), (-25, 2))
            Line((-25, 2), (-10, 2))
            ThreePointArc((-10, 2), (-8, 0), (-10, -2))
        make_face()
    extrude(amount=-CUT_EXTRUDE_20_DEPTH, mode=Mode.SUBTRACT)


solid = part.part
